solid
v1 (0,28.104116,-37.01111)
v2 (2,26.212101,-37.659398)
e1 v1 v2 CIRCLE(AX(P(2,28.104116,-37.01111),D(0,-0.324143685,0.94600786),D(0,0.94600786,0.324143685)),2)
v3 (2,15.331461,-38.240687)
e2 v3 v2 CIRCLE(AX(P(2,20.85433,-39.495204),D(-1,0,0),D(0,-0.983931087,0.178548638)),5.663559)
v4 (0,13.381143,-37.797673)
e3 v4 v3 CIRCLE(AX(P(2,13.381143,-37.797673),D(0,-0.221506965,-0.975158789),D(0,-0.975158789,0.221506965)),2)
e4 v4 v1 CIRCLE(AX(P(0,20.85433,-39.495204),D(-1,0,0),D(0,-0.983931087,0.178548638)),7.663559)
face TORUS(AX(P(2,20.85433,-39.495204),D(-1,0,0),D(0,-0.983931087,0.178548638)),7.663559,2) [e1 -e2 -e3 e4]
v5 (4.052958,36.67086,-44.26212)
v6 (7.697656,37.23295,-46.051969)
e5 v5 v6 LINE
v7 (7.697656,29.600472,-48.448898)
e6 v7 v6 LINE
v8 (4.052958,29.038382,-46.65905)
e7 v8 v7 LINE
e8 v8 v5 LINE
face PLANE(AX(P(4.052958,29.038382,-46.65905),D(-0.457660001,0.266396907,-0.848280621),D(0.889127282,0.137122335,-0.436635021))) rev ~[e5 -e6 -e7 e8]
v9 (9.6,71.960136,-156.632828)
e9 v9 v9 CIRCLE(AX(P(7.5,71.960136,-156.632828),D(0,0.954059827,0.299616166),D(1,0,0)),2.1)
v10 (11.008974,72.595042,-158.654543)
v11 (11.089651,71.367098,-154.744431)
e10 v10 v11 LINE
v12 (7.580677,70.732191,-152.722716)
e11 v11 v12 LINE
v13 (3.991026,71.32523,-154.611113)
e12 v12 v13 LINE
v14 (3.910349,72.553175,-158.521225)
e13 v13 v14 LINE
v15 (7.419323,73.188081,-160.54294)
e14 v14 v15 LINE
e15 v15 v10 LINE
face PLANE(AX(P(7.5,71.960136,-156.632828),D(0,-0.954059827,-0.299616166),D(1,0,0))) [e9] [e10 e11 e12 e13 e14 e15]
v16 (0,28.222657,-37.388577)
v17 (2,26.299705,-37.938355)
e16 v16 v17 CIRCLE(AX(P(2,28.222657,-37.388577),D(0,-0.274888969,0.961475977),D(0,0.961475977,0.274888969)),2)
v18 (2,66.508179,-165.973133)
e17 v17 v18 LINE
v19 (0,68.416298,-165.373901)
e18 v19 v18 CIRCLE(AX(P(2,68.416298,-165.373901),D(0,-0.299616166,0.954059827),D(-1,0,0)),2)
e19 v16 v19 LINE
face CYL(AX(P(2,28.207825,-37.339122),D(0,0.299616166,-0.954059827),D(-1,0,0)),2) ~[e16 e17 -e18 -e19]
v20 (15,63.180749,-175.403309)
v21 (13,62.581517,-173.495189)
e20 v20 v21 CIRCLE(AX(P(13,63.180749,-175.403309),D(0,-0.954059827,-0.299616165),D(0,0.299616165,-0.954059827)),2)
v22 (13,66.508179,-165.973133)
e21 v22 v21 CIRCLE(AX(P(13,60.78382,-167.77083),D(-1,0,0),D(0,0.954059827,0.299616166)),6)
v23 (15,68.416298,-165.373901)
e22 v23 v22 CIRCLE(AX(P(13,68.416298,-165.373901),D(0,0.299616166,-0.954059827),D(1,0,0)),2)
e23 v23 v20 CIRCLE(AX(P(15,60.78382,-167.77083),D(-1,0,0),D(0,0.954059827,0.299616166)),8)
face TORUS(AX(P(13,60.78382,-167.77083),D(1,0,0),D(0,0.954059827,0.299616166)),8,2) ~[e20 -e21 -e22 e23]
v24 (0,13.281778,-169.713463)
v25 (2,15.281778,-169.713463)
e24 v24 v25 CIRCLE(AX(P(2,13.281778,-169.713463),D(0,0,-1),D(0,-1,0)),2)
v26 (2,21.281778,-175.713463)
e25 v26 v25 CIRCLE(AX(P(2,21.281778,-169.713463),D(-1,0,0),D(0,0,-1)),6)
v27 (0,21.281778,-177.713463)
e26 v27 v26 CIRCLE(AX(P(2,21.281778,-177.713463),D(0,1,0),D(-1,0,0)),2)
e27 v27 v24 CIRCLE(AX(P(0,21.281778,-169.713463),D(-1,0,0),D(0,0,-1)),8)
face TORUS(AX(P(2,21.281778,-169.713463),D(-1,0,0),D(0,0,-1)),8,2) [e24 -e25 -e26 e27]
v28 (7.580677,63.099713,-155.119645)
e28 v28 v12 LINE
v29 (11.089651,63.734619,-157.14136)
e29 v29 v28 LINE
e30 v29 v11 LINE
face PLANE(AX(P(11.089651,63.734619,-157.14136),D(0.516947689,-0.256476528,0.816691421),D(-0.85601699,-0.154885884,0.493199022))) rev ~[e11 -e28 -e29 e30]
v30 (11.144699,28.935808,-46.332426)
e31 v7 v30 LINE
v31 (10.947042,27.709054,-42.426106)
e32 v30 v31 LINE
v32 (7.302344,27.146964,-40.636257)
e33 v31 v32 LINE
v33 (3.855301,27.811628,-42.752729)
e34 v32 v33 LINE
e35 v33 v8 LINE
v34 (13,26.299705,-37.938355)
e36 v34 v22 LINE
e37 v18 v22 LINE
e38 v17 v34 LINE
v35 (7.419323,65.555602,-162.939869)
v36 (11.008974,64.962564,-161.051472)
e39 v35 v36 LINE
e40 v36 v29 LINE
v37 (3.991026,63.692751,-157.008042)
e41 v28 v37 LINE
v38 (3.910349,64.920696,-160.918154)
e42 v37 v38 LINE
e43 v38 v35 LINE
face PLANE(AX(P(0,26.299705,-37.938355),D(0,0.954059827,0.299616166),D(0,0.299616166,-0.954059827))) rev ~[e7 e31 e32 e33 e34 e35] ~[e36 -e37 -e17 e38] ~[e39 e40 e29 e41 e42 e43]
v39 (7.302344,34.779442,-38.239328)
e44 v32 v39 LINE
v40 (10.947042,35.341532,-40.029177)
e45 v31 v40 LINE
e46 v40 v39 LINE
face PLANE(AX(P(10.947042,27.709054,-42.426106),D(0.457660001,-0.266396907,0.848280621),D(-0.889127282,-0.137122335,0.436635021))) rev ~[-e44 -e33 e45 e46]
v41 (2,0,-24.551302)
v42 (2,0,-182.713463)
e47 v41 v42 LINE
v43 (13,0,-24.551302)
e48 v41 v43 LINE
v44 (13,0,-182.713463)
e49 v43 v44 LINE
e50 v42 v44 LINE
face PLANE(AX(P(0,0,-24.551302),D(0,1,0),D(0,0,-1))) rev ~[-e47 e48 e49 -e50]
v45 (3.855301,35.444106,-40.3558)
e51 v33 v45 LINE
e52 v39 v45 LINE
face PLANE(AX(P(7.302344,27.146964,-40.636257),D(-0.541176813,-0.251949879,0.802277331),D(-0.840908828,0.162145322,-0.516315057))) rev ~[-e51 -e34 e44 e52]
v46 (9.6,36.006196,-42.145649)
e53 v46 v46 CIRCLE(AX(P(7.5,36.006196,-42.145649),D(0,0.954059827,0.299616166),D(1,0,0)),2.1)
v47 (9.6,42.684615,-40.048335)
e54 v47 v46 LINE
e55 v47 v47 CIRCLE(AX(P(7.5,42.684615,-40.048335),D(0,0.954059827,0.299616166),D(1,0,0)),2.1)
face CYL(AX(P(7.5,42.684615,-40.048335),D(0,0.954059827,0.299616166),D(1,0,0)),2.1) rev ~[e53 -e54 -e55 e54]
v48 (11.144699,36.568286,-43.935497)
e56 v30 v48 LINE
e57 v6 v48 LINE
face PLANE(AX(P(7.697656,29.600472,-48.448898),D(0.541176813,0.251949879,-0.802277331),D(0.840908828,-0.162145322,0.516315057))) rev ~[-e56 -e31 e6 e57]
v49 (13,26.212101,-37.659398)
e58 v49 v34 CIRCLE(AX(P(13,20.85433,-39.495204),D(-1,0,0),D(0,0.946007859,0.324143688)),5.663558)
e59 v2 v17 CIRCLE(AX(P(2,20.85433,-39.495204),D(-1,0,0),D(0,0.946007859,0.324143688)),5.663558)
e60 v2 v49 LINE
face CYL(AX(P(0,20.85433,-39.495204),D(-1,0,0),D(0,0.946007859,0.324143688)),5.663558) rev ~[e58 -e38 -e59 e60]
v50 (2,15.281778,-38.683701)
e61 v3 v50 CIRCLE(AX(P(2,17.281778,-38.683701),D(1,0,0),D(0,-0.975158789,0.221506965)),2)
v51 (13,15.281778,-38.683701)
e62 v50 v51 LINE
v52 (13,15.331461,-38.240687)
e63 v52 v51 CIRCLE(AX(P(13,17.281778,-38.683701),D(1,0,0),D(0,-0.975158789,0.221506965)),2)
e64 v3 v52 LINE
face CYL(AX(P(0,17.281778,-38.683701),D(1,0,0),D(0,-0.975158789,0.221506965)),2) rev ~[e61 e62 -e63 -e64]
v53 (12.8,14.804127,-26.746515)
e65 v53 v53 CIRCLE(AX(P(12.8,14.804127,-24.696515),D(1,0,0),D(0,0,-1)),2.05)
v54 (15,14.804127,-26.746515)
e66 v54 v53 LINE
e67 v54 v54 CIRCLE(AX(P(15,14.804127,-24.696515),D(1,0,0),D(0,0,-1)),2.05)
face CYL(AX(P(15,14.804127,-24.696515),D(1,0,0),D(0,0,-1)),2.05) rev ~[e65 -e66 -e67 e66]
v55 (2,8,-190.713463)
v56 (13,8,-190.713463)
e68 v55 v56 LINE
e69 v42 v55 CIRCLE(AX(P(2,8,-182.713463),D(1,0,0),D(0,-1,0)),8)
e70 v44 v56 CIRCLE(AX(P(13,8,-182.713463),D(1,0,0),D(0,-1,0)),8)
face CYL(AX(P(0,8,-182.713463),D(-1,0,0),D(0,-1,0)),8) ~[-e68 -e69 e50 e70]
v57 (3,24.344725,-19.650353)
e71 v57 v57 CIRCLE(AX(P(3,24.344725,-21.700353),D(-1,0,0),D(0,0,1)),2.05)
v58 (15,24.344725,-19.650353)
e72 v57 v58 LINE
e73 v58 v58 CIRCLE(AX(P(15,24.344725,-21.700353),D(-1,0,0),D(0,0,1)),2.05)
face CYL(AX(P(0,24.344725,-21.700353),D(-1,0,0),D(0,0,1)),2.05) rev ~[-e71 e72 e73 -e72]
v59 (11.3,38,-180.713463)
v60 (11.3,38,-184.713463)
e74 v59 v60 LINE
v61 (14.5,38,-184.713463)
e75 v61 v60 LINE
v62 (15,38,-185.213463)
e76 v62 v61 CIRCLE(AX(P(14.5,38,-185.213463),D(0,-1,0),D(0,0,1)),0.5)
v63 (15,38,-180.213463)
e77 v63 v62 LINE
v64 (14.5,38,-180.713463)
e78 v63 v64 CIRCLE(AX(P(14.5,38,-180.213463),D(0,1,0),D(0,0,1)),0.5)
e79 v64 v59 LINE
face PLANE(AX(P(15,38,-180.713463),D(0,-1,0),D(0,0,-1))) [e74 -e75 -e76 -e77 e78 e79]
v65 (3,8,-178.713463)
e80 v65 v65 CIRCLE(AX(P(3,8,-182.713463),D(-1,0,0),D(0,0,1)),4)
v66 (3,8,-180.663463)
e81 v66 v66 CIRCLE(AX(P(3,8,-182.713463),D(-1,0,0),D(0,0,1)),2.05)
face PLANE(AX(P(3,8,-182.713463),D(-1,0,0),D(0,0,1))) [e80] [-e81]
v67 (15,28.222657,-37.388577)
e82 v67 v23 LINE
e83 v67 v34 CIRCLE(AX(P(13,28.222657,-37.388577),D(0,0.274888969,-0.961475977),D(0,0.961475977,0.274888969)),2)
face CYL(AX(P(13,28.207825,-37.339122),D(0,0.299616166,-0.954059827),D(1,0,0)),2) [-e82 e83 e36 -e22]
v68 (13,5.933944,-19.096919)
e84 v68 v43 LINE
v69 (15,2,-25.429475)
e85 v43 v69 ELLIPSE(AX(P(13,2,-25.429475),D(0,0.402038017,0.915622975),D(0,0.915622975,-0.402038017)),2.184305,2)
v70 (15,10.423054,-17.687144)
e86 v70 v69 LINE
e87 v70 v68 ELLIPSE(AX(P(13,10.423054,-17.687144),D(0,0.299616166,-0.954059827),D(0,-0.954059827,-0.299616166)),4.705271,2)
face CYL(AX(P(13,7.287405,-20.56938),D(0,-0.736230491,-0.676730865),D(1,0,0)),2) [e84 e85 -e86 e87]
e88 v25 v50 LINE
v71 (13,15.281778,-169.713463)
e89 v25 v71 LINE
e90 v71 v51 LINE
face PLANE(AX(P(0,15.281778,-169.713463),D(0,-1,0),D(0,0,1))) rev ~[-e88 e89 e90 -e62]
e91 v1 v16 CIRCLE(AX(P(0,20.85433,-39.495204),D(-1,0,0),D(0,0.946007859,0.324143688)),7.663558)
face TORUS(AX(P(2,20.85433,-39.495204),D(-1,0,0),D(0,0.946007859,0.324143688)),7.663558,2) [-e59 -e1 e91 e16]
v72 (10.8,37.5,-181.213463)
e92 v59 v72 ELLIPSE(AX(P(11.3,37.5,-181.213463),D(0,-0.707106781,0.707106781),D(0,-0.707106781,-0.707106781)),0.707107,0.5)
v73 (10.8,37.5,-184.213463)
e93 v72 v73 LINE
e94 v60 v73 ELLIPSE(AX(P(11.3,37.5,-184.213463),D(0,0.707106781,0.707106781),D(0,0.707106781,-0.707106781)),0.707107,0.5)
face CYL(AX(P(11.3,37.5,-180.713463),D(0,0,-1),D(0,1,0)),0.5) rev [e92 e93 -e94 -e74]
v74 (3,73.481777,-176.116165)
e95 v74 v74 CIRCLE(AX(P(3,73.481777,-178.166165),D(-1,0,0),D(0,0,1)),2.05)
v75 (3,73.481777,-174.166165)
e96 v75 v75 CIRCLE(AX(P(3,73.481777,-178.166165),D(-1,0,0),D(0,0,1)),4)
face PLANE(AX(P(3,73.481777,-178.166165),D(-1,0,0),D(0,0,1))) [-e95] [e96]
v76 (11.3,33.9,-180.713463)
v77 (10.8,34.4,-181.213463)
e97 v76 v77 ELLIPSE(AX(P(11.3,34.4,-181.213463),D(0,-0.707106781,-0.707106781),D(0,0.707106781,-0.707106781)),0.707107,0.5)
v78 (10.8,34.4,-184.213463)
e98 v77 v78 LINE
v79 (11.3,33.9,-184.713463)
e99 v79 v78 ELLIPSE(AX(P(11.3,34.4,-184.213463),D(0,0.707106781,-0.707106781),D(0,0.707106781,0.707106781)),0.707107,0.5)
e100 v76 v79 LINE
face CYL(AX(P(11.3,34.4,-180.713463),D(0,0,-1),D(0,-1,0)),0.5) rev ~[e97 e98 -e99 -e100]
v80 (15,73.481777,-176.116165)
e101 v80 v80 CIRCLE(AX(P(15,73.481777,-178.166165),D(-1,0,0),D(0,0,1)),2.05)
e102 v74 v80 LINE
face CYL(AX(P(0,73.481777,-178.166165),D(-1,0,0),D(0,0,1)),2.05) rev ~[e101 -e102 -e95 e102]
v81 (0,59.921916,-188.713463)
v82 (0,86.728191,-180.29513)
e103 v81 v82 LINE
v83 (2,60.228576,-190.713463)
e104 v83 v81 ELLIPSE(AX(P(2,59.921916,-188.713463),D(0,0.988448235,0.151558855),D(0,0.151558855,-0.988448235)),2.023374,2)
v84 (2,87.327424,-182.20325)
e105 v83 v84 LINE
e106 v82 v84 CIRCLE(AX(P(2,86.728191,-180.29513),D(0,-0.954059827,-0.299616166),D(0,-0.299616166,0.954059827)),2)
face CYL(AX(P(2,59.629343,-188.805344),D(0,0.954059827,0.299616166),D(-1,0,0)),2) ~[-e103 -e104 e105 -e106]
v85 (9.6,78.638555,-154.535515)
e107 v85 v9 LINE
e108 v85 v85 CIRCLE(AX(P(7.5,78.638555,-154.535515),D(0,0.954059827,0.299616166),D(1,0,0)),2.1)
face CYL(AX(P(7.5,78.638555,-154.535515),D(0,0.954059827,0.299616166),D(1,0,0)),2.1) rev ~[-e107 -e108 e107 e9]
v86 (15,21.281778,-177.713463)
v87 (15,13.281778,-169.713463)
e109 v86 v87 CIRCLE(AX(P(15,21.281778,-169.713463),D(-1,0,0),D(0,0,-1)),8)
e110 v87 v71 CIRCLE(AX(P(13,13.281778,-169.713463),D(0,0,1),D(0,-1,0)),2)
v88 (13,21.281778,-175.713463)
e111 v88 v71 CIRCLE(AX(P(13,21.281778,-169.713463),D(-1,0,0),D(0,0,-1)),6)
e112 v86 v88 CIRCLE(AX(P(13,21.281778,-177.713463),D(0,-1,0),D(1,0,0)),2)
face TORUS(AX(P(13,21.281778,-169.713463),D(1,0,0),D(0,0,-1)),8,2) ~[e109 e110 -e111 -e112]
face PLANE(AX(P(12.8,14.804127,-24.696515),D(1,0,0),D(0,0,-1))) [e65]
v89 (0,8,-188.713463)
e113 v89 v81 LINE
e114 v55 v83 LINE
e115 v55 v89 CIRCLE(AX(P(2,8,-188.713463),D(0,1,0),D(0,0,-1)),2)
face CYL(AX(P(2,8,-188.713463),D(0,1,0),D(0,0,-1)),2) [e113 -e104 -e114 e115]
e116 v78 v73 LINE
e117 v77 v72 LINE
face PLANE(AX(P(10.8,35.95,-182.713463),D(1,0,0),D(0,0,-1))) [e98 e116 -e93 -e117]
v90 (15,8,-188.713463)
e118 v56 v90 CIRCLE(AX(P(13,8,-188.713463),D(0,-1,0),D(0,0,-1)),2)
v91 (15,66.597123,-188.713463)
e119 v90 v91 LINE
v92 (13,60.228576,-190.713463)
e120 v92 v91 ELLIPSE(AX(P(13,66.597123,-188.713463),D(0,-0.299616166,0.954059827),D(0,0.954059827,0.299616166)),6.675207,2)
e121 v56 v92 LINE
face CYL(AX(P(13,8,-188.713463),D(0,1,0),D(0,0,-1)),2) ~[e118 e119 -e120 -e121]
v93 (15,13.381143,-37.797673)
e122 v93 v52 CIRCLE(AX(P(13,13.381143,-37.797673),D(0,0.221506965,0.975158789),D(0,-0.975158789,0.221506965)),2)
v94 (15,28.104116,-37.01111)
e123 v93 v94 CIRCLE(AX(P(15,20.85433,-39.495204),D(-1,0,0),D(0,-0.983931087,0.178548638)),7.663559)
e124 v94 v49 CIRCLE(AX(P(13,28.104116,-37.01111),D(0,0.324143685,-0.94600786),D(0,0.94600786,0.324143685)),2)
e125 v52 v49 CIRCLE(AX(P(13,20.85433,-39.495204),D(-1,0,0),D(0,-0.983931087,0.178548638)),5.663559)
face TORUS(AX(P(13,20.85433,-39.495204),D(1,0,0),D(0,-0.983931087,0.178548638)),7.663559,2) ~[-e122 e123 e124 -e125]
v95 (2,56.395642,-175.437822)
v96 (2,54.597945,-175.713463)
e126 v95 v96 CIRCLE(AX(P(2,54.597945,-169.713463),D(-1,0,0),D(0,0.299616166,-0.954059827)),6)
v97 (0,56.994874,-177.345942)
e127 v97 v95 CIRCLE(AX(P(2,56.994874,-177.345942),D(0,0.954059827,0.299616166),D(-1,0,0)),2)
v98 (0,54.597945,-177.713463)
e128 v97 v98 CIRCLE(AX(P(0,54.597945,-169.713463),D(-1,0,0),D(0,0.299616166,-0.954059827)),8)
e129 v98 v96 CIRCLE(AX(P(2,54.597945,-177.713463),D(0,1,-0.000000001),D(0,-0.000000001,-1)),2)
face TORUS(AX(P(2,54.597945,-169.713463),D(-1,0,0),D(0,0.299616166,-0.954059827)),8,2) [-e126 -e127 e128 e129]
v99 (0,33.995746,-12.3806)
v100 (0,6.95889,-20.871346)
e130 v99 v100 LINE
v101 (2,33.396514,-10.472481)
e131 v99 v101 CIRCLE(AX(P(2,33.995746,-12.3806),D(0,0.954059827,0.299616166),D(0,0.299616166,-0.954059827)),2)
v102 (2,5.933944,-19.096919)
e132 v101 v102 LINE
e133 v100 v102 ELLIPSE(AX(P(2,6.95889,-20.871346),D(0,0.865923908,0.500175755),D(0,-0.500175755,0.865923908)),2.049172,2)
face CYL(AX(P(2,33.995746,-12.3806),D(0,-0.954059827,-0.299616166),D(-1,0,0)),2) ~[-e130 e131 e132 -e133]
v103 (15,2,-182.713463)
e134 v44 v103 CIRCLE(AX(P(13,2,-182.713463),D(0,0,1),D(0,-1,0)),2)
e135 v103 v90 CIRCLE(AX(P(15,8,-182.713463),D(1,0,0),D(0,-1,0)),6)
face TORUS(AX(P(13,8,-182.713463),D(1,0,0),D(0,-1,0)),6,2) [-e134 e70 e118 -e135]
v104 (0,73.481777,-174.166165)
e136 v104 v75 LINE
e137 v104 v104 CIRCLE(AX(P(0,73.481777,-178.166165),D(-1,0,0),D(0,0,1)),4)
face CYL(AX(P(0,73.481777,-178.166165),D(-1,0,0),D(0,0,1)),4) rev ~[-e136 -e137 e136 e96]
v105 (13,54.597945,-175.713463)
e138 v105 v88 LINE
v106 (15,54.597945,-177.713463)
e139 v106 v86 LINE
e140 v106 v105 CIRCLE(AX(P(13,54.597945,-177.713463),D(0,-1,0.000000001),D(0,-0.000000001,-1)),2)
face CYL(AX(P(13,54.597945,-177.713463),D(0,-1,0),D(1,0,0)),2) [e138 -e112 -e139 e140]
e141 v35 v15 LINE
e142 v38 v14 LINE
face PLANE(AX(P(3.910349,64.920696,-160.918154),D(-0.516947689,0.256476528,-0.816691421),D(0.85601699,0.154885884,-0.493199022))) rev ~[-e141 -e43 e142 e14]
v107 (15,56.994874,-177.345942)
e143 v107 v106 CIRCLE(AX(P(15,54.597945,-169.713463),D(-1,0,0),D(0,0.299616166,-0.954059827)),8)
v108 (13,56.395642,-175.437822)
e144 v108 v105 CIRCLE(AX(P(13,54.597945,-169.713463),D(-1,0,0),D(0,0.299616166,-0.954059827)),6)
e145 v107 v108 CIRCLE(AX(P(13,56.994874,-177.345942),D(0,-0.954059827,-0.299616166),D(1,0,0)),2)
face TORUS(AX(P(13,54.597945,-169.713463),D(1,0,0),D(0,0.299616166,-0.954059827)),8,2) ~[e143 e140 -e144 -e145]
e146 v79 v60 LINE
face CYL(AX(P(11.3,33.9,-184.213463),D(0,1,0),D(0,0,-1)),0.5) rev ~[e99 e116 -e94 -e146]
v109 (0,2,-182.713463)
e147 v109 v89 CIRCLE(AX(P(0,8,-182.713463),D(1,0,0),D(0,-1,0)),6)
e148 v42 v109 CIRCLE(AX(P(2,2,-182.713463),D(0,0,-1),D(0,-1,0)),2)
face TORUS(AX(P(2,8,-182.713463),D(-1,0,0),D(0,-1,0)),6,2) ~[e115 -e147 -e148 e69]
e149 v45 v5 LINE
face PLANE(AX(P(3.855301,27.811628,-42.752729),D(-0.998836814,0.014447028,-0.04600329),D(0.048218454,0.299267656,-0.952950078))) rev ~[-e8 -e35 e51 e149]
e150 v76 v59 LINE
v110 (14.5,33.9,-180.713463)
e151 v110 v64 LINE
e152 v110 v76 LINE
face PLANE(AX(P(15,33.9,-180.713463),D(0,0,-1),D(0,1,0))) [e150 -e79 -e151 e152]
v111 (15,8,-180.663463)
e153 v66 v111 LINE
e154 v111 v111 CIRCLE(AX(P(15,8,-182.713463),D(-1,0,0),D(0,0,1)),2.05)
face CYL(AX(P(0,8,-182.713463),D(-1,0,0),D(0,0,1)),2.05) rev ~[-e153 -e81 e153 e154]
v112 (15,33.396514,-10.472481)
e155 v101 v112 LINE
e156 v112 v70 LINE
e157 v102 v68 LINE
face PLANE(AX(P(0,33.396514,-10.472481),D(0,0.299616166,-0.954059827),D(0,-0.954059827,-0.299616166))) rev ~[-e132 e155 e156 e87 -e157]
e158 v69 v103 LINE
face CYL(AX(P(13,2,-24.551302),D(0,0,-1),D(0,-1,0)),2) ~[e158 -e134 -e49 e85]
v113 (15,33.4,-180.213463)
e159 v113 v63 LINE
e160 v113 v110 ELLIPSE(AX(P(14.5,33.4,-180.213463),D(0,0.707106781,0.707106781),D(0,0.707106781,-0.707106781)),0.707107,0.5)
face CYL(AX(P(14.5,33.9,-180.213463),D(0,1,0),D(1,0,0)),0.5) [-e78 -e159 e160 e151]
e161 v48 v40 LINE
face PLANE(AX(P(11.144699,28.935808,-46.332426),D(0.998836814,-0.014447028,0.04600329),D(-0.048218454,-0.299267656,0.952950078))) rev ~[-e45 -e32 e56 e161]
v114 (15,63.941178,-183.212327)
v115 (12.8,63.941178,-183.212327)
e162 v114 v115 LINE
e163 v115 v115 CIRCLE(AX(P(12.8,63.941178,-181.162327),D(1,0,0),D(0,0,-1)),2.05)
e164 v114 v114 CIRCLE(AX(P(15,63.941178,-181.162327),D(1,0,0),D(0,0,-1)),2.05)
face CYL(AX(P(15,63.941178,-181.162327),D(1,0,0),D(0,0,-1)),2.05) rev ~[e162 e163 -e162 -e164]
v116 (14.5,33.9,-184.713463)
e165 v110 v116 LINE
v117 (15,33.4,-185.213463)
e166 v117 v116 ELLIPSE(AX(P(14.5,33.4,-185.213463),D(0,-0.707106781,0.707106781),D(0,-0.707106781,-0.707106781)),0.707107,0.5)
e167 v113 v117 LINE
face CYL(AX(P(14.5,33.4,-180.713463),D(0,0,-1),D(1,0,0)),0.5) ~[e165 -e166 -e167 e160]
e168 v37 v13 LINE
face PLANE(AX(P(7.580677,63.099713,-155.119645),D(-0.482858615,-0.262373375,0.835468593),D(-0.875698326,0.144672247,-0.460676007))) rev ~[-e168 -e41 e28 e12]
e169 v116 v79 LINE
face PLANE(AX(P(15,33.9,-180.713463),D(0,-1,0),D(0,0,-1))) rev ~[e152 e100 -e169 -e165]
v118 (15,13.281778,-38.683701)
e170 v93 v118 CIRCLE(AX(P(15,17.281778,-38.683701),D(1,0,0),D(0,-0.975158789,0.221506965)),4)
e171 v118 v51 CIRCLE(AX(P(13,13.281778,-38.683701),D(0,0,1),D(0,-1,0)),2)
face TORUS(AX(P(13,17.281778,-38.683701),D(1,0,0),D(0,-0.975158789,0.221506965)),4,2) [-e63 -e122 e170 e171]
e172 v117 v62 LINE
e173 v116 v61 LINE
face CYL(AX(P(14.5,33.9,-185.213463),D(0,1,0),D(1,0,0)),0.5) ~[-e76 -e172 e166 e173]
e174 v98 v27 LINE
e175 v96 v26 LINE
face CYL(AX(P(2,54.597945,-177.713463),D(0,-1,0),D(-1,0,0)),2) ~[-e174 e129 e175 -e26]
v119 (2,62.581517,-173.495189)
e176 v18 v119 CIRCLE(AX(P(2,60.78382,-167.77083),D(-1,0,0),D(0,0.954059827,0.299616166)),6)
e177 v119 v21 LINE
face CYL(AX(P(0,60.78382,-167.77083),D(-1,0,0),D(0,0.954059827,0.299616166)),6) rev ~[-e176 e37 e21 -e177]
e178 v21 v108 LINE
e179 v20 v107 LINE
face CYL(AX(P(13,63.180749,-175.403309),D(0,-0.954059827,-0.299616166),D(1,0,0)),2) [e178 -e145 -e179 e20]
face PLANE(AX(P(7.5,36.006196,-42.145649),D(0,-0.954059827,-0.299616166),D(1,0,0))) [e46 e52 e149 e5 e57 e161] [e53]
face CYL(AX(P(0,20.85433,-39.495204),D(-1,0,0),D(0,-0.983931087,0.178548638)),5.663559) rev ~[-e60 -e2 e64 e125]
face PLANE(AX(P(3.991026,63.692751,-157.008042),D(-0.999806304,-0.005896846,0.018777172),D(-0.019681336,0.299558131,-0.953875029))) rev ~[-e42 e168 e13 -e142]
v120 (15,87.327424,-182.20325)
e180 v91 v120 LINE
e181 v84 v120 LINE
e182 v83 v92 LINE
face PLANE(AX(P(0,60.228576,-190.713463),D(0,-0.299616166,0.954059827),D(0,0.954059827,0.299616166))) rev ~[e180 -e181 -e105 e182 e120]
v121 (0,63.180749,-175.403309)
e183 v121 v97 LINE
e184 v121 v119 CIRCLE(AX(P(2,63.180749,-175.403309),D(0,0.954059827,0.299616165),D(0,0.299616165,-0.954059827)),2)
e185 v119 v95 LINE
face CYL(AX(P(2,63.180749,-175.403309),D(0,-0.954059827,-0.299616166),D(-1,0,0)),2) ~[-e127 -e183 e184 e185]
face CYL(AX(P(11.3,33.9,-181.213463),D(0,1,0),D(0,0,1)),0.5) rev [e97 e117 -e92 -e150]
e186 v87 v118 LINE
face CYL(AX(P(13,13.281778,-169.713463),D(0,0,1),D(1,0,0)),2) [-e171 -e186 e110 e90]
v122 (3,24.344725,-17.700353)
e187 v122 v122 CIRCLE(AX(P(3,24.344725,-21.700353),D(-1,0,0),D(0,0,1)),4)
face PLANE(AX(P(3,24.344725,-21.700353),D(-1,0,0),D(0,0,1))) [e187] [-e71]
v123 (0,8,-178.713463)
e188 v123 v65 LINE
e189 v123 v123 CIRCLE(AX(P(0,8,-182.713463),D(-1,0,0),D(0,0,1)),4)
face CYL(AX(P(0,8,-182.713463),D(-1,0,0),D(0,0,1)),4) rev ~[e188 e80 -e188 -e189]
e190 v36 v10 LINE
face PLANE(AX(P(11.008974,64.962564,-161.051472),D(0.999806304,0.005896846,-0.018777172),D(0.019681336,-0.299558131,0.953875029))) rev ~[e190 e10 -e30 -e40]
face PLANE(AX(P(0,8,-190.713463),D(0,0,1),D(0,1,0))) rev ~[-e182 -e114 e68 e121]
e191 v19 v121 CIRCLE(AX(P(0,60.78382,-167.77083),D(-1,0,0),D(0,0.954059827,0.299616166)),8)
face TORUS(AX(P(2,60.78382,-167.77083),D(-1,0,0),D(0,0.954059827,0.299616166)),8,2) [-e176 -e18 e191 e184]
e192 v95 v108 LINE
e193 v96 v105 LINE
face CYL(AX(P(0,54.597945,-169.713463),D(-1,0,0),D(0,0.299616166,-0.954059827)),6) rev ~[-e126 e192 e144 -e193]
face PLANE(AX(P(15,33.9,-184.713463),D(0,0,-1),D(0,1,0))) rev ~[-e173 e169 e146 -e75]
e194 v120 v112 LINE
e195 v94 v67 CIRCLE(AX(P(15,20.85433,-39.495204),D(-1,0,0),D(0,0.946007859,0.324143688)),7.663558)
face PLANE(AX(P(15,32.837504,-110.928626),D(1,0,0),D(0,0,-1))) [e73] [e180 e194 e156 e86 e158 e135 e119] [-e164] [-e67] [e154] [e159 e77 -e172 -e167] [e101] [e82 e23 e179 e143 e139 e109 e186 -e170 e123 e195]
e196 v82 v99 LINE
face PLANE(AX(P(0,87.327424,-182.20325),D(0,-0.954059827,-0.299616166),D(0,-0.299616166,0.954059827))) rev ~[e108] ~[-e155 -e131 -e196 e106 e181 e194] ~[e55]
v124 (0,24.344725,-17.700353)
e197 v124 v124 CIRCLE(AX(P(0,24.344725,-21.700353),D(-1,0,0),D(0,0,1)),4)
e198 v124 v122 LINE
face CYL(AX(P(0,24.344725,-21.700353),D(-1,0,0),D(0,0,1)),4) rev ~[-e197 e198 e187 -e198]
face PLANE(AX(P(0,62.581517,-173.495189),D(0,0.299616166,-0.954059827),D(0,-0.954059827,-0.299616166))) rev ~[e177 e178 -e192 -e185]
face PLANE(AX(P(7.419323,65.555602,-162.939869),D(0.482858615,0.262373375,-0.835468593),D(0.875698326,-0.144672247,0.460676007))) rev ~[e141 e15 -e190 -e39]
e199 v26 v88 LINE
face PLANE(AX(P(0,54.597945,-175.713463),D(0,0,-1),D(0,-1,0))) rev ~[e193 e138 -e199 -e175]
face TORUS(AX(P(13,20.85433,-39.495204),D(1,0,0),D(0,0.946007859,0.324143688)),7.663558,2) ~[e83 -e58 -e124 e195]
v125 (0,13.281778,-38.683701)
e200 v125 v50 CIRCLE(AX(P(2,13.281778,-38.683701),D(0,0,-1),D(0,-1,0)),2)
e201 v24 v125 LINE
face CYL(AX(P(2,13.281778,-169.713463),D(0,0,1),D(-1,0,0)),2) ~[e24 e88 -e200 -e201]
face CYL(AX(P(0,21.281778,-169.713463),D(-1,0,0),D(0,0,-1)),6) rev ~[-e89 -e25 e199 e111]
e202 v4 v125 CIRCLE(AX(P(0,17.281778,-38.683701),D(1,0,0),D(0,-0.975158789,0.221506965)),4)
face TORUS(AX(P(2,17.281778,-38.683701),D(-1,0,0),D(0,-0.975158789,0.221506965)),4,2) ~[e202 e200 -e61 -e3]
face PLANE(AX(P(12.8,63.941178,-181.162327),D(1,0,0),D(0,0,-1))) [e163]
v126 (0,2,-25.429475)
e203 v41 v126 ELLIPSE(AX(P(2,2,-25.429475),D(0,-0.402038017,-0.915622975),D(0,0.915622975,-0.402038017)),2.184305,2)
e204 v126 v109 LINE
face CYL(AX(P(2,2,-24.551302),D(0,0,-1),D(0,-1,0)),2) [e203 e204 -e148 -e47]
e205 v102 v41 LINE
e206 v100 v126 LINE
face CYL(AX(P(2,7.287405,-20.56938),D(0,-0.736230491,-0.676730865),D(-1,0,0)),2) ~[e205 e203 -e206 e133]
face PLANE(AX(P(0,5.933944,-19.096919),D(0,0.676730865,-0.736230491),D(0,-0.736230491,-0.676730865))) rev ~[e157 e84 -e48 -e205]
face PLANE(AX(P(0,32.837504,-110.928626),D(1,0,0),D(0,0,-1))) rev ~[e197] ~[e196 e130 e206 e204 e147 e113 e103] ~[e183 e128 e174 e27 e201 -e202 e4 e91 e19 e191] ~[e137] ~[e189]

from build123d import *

# Parameters (mm, degrees)
BOSS_EXTRUDE1_DEPTH = 15
CUT_EXTRUDE1_REACH  = 210.672
SKETCH3_R           = 2.1
CUT_EXTRUDE2_DEPTH  = 8
SKETCH5_R           = 2.05
CUT_EXTRUDE3_DEPTH  = 211.29194948
SKETCH5_3_R         = 4
SKETCH5_3_R_2       = 2.05
CUT_EXTRUDE4_DEPTH  = 3
SKETCH6_R           = 2.05
CUT_EXTRUDE5_DEPTH  = 2.2
FILLET1_R           = 2
SKETCH7_W           = 4
SKETCH7_H           = 4.1
CUT_EXTRUDE6_DEPTH  = 4.2
FILLET2_R           = 0.5


with BuildPart() as part:
    # Sketch2 → Boss-Extrude1 (new body)
    with BuildSketch(Plane(origin=(0, 0, 0), x_dir=(0, 0, -1), z_dir=(1, 0, 0))):
        with BuildLine():
            ThreePointArc((182.713463258, 0), (188.370317508, 2.343145751), (190.713463258, 8))
            Line((190.713463258, 8), (190.713463258, 60.22857568))
            Line((190.713463258, 60.22857568), (182.203249602, 87.327423803))
            Line((182.203249602, 87.327423803), (10.472480761, 33.39651399))
            Line((10.472480761, 33.39651399), (19.096918934, 5.933943762))
            Line((19.096918934, 5.933943762), (24.551301688, 0))
            Line((24.551301688, 0), (182.713463258, 0))
        make_face()
        with BuildLine():
            Line((37.938354626, 26.299705178), (165.973133125, 66.508178818))
            ThreePointArc((165.973133125, 66.508178818), (170.547399424, 66.102716631), (173.49518908, 62.58151685))
            Line((173.49518908, 62.58151685), (175.43782222, 56.395641556))
            ThreePointArc((175.43782222, 56.395641556), (175.644152669, 55.507297693), (175.713463258, 54.597944563))
            Line((175.713463258, 54.597944563), (175.713463258, 21.281778339))
            ThreePointArc((175.713463258, 21.281778339), (173.956103945, 17.039137651), (169.713463258, 15.281778339))
            Line((169.713463258, 15.281778339), (38.483983749, 15.281778339))
            ThreePointArc((38.483983749, 15.281778339), (33.847693688, 20.428280139), (37.659397671, 26.212100595))
            ThreePointArc((37.659397671, 26.212100595), (37.798310715, 26.257703381), (37.938354626, 26.299705178))
        make_face(mode=Mode.SUBTRACT)
    extrude(amount=BOSS_EXTRUDE1_DEPTH)

    # Sketch3 → Cut-Extrude1 (cut, up to next)
    with BuildSketch(Plane(origin=(0, 27.404937127, 8.606338879), x_dir=(1, 0, 0), z_dir=(0, 0.9540598268960737, 0.2996161656236761)), mode=Mode.PRIVATE) as cut_extrude1_sk1:
        with Locations((7.5, 170.997508649)):
            Circle(SKETCH3_R)
    cut_extrude1_tool1 = extrude(cut_extrude1_sk1.sketch, amount=-CUT_EXTRUDE1_REACH, mode=Mode.PRIVATE) & part.part
    # Sketch3 → Cut-Extrude1 (cut, up to next)
    with BuildSketch(Plane(origin=(0, 27.404937127, 8.606338879), x_dir=(1, 0, 0), z_dir=(0, 0.9540598268960737, 0.2996161656236761)), mode=Mode.PRIVATE) as cut_extrude1_sk2:
        with Locations((7.5, 50.997508649)):
            Circle(SKETCH3_R)
    cut_extrude1_tool2 = extrude(cut_extrude1_sk2.sketch, amount=-CUT_EXTRUDE1_REACH, mode=Mode.PRIVATE) & part.part
    add(cut_extrude1_tool1.solids().sort_by_distance((7.5, 78.638555, -154.535515))[0], mode=Mode.SUBTRACT)
    add(cut_extrude1_tool2.solids().sort_by_distance((7.5, 42.684615, -40.048335))[0], mode=Mode.SUBTRACT)

    # Sketch4 → Cut-Extrude2 (cut)
    with BuildSketch(Plane(origin=(0, 13.094039723, 4.112096395), x_dir=(1, 0, 0), z_dir=(0, -0.9540598268960736, -0.2996161656236761))):
        Polygon((3.910348885, -172.976836364), (7.419322526, -175.095901563), (11.008973641, -173.116573848), (11.089651115, -169.018180934), (7.580677474, -166.899115735), (3.991026359, -168.87844345), align=None)
        Polygon((7.302343544, -46.903089855), (3.855301083, -49.121474764), (4.052957539, -53.215893558), (7.697656456, -55.091927443), (11.144698917, -52.873542534), (10.947042461, -48.77912374), align=None)
    extrude(amount=-CUT_EXTRUDE2_DEPTH, mode=Mode.SUBTRACT)

    # Sketch5 → Cut-Extrude3 (cut, through all)
    with BuildSketch(Plane.ZY):
        with Locations((-178.166164975, 73.481776555)):
            Circle(SKETCH5_R)
        with Locations((-182.713463258, 8)):
            Circle(SKETCH5_R)
        with Locations((-21.700353364, 24.344725393)):
            Circle(SKETCH5_R)
    extrude(amount=-CUT_EXTRUDE3_DEPTH, mode=Mode.SUBTRACT)

    # Sketch5<3> → Cut-Extrude4 (cut)
    # profile 1 of 3: a face of its own
    with BuildSketch(Plane.ZY):
        with Locations((-178.166164975, 73.481776555)):
            Circle(SKETCH5_3_R)
    # profile 2 of 3: a face of its own
    with BuildSketch(Plane.ZY):
        with Locations((-182.713463258, 8)):
            Circle(SKETCH5_3_R)
        with Locations((-182.713463258, 8)):
            Circle(SKETCH5_3_R_2, mode=Mode.SUBTRACT)
    # profile 3 of 3: a face of its own
    with BuildSketch(Plane.ZY):
        with Locations((-21.700353364, 24.344725393)):
            Circle(SKETCH5_3_R)
    extrude(amount=-CUT_EXTRUDE4_DEPTH, mode=Mode.SUBTRACT)

    # Sketch6 → Cut-Extrude5 (cut)
    with BuildSketch(Plane(origin=(15, 0, 0), x_dir=(0, 0, -1), z_dir=(1, 0, 0))):
        with Locations((24.69651502, 14.804127124)):
            Circle(SKETCH6_R)
        with Locations((181.162326631, 63.941178286)):
            Circle(SKETCH6_R)
    extrude(amount=-CUT_EXTRUDE5_DEPTH, mode=Mode.SUBTRACT)

    # Fillet1
    fillet1_edges = [part.edges().sort_by_distance(p)[0] for p in [
        (15, 46.403941998, -101.955743876),
        (15, 66.102716631, -170.547399424),
        (15, 59.488579203, -174.46650565),
        (15, 55.507297693, -175.644152669),
        (15, 37.939861451, -175.713463258),
        (15, 17.039137651, -173.956103945),
        (0, 46.403941998, -101.955743876),
        (0, 66.102716631, -170.547399424),
        (0, 59.488579203, -174.46650565),
        (0, 55.507297693, -175.644152669),
        (0, 37.939861451, -175.713463258),
        (0, 17.039137651, -173.956103945),
        (0, 2.343145751, -188.370317508),
        (15, 15.281778339, -104.098723504),
        (0, 15.281778339, -104.098723504),
        (0, 19.665228876, -14.784699847),
        (0, 34.11428784, -190.713463258),
        (0, 73.777999741, -186.45835643),
        (15, 34.11428784, -190.713463258),
        (15, 2.343145751, -188.370317508),
        (15, 20.574202547, -33.838577822),
        (0, 20.574202547, -33.838577822),
        (0, 0, -103.632382473),
        (7.5, 15.281778339, -38.483983749),
        (15, 2.966971881, -21.824110311),
        (15, 0, -103.632382473),
        (0, 2.966971881, -21.824110311),
    ]]
    fillet(fillet1_edges, radius=FILLET1_R)

    # Sketch7 → Cut-Extrude6 (cut)
    with BuildSketch(Plane(origin=(15, 0, 0), x_dir=(0, 0, -1), z_dir=(1, 0, 0))):
        with Locations((182.713463258, 35.95)):
            Rectangle(SKETCH7_W, SKETCH7_H)
    extrude(amount=-CUT_EXTRUDE6_DEPTH, mode=Mode.SUBTRACT)

    # Fillet2
    fillet2_edges = [part.edges().sort_by_distance(p)[0] for p in [
        (10.8, 35.95, -184.713463258),
        (10.8, 38, -182.713463258),
        (10.8, 35.95, -180.713463258),
        (10.8, 33.9, -182.713463258),
        (15, 35.95, -180.713463258),
        (15, 33.9, -182.713463258),
        (15, 35.95, -184.713463258),
    ]]
    fillet(fillet2_edges, radius=FILLET2_R)


solid = part.part
